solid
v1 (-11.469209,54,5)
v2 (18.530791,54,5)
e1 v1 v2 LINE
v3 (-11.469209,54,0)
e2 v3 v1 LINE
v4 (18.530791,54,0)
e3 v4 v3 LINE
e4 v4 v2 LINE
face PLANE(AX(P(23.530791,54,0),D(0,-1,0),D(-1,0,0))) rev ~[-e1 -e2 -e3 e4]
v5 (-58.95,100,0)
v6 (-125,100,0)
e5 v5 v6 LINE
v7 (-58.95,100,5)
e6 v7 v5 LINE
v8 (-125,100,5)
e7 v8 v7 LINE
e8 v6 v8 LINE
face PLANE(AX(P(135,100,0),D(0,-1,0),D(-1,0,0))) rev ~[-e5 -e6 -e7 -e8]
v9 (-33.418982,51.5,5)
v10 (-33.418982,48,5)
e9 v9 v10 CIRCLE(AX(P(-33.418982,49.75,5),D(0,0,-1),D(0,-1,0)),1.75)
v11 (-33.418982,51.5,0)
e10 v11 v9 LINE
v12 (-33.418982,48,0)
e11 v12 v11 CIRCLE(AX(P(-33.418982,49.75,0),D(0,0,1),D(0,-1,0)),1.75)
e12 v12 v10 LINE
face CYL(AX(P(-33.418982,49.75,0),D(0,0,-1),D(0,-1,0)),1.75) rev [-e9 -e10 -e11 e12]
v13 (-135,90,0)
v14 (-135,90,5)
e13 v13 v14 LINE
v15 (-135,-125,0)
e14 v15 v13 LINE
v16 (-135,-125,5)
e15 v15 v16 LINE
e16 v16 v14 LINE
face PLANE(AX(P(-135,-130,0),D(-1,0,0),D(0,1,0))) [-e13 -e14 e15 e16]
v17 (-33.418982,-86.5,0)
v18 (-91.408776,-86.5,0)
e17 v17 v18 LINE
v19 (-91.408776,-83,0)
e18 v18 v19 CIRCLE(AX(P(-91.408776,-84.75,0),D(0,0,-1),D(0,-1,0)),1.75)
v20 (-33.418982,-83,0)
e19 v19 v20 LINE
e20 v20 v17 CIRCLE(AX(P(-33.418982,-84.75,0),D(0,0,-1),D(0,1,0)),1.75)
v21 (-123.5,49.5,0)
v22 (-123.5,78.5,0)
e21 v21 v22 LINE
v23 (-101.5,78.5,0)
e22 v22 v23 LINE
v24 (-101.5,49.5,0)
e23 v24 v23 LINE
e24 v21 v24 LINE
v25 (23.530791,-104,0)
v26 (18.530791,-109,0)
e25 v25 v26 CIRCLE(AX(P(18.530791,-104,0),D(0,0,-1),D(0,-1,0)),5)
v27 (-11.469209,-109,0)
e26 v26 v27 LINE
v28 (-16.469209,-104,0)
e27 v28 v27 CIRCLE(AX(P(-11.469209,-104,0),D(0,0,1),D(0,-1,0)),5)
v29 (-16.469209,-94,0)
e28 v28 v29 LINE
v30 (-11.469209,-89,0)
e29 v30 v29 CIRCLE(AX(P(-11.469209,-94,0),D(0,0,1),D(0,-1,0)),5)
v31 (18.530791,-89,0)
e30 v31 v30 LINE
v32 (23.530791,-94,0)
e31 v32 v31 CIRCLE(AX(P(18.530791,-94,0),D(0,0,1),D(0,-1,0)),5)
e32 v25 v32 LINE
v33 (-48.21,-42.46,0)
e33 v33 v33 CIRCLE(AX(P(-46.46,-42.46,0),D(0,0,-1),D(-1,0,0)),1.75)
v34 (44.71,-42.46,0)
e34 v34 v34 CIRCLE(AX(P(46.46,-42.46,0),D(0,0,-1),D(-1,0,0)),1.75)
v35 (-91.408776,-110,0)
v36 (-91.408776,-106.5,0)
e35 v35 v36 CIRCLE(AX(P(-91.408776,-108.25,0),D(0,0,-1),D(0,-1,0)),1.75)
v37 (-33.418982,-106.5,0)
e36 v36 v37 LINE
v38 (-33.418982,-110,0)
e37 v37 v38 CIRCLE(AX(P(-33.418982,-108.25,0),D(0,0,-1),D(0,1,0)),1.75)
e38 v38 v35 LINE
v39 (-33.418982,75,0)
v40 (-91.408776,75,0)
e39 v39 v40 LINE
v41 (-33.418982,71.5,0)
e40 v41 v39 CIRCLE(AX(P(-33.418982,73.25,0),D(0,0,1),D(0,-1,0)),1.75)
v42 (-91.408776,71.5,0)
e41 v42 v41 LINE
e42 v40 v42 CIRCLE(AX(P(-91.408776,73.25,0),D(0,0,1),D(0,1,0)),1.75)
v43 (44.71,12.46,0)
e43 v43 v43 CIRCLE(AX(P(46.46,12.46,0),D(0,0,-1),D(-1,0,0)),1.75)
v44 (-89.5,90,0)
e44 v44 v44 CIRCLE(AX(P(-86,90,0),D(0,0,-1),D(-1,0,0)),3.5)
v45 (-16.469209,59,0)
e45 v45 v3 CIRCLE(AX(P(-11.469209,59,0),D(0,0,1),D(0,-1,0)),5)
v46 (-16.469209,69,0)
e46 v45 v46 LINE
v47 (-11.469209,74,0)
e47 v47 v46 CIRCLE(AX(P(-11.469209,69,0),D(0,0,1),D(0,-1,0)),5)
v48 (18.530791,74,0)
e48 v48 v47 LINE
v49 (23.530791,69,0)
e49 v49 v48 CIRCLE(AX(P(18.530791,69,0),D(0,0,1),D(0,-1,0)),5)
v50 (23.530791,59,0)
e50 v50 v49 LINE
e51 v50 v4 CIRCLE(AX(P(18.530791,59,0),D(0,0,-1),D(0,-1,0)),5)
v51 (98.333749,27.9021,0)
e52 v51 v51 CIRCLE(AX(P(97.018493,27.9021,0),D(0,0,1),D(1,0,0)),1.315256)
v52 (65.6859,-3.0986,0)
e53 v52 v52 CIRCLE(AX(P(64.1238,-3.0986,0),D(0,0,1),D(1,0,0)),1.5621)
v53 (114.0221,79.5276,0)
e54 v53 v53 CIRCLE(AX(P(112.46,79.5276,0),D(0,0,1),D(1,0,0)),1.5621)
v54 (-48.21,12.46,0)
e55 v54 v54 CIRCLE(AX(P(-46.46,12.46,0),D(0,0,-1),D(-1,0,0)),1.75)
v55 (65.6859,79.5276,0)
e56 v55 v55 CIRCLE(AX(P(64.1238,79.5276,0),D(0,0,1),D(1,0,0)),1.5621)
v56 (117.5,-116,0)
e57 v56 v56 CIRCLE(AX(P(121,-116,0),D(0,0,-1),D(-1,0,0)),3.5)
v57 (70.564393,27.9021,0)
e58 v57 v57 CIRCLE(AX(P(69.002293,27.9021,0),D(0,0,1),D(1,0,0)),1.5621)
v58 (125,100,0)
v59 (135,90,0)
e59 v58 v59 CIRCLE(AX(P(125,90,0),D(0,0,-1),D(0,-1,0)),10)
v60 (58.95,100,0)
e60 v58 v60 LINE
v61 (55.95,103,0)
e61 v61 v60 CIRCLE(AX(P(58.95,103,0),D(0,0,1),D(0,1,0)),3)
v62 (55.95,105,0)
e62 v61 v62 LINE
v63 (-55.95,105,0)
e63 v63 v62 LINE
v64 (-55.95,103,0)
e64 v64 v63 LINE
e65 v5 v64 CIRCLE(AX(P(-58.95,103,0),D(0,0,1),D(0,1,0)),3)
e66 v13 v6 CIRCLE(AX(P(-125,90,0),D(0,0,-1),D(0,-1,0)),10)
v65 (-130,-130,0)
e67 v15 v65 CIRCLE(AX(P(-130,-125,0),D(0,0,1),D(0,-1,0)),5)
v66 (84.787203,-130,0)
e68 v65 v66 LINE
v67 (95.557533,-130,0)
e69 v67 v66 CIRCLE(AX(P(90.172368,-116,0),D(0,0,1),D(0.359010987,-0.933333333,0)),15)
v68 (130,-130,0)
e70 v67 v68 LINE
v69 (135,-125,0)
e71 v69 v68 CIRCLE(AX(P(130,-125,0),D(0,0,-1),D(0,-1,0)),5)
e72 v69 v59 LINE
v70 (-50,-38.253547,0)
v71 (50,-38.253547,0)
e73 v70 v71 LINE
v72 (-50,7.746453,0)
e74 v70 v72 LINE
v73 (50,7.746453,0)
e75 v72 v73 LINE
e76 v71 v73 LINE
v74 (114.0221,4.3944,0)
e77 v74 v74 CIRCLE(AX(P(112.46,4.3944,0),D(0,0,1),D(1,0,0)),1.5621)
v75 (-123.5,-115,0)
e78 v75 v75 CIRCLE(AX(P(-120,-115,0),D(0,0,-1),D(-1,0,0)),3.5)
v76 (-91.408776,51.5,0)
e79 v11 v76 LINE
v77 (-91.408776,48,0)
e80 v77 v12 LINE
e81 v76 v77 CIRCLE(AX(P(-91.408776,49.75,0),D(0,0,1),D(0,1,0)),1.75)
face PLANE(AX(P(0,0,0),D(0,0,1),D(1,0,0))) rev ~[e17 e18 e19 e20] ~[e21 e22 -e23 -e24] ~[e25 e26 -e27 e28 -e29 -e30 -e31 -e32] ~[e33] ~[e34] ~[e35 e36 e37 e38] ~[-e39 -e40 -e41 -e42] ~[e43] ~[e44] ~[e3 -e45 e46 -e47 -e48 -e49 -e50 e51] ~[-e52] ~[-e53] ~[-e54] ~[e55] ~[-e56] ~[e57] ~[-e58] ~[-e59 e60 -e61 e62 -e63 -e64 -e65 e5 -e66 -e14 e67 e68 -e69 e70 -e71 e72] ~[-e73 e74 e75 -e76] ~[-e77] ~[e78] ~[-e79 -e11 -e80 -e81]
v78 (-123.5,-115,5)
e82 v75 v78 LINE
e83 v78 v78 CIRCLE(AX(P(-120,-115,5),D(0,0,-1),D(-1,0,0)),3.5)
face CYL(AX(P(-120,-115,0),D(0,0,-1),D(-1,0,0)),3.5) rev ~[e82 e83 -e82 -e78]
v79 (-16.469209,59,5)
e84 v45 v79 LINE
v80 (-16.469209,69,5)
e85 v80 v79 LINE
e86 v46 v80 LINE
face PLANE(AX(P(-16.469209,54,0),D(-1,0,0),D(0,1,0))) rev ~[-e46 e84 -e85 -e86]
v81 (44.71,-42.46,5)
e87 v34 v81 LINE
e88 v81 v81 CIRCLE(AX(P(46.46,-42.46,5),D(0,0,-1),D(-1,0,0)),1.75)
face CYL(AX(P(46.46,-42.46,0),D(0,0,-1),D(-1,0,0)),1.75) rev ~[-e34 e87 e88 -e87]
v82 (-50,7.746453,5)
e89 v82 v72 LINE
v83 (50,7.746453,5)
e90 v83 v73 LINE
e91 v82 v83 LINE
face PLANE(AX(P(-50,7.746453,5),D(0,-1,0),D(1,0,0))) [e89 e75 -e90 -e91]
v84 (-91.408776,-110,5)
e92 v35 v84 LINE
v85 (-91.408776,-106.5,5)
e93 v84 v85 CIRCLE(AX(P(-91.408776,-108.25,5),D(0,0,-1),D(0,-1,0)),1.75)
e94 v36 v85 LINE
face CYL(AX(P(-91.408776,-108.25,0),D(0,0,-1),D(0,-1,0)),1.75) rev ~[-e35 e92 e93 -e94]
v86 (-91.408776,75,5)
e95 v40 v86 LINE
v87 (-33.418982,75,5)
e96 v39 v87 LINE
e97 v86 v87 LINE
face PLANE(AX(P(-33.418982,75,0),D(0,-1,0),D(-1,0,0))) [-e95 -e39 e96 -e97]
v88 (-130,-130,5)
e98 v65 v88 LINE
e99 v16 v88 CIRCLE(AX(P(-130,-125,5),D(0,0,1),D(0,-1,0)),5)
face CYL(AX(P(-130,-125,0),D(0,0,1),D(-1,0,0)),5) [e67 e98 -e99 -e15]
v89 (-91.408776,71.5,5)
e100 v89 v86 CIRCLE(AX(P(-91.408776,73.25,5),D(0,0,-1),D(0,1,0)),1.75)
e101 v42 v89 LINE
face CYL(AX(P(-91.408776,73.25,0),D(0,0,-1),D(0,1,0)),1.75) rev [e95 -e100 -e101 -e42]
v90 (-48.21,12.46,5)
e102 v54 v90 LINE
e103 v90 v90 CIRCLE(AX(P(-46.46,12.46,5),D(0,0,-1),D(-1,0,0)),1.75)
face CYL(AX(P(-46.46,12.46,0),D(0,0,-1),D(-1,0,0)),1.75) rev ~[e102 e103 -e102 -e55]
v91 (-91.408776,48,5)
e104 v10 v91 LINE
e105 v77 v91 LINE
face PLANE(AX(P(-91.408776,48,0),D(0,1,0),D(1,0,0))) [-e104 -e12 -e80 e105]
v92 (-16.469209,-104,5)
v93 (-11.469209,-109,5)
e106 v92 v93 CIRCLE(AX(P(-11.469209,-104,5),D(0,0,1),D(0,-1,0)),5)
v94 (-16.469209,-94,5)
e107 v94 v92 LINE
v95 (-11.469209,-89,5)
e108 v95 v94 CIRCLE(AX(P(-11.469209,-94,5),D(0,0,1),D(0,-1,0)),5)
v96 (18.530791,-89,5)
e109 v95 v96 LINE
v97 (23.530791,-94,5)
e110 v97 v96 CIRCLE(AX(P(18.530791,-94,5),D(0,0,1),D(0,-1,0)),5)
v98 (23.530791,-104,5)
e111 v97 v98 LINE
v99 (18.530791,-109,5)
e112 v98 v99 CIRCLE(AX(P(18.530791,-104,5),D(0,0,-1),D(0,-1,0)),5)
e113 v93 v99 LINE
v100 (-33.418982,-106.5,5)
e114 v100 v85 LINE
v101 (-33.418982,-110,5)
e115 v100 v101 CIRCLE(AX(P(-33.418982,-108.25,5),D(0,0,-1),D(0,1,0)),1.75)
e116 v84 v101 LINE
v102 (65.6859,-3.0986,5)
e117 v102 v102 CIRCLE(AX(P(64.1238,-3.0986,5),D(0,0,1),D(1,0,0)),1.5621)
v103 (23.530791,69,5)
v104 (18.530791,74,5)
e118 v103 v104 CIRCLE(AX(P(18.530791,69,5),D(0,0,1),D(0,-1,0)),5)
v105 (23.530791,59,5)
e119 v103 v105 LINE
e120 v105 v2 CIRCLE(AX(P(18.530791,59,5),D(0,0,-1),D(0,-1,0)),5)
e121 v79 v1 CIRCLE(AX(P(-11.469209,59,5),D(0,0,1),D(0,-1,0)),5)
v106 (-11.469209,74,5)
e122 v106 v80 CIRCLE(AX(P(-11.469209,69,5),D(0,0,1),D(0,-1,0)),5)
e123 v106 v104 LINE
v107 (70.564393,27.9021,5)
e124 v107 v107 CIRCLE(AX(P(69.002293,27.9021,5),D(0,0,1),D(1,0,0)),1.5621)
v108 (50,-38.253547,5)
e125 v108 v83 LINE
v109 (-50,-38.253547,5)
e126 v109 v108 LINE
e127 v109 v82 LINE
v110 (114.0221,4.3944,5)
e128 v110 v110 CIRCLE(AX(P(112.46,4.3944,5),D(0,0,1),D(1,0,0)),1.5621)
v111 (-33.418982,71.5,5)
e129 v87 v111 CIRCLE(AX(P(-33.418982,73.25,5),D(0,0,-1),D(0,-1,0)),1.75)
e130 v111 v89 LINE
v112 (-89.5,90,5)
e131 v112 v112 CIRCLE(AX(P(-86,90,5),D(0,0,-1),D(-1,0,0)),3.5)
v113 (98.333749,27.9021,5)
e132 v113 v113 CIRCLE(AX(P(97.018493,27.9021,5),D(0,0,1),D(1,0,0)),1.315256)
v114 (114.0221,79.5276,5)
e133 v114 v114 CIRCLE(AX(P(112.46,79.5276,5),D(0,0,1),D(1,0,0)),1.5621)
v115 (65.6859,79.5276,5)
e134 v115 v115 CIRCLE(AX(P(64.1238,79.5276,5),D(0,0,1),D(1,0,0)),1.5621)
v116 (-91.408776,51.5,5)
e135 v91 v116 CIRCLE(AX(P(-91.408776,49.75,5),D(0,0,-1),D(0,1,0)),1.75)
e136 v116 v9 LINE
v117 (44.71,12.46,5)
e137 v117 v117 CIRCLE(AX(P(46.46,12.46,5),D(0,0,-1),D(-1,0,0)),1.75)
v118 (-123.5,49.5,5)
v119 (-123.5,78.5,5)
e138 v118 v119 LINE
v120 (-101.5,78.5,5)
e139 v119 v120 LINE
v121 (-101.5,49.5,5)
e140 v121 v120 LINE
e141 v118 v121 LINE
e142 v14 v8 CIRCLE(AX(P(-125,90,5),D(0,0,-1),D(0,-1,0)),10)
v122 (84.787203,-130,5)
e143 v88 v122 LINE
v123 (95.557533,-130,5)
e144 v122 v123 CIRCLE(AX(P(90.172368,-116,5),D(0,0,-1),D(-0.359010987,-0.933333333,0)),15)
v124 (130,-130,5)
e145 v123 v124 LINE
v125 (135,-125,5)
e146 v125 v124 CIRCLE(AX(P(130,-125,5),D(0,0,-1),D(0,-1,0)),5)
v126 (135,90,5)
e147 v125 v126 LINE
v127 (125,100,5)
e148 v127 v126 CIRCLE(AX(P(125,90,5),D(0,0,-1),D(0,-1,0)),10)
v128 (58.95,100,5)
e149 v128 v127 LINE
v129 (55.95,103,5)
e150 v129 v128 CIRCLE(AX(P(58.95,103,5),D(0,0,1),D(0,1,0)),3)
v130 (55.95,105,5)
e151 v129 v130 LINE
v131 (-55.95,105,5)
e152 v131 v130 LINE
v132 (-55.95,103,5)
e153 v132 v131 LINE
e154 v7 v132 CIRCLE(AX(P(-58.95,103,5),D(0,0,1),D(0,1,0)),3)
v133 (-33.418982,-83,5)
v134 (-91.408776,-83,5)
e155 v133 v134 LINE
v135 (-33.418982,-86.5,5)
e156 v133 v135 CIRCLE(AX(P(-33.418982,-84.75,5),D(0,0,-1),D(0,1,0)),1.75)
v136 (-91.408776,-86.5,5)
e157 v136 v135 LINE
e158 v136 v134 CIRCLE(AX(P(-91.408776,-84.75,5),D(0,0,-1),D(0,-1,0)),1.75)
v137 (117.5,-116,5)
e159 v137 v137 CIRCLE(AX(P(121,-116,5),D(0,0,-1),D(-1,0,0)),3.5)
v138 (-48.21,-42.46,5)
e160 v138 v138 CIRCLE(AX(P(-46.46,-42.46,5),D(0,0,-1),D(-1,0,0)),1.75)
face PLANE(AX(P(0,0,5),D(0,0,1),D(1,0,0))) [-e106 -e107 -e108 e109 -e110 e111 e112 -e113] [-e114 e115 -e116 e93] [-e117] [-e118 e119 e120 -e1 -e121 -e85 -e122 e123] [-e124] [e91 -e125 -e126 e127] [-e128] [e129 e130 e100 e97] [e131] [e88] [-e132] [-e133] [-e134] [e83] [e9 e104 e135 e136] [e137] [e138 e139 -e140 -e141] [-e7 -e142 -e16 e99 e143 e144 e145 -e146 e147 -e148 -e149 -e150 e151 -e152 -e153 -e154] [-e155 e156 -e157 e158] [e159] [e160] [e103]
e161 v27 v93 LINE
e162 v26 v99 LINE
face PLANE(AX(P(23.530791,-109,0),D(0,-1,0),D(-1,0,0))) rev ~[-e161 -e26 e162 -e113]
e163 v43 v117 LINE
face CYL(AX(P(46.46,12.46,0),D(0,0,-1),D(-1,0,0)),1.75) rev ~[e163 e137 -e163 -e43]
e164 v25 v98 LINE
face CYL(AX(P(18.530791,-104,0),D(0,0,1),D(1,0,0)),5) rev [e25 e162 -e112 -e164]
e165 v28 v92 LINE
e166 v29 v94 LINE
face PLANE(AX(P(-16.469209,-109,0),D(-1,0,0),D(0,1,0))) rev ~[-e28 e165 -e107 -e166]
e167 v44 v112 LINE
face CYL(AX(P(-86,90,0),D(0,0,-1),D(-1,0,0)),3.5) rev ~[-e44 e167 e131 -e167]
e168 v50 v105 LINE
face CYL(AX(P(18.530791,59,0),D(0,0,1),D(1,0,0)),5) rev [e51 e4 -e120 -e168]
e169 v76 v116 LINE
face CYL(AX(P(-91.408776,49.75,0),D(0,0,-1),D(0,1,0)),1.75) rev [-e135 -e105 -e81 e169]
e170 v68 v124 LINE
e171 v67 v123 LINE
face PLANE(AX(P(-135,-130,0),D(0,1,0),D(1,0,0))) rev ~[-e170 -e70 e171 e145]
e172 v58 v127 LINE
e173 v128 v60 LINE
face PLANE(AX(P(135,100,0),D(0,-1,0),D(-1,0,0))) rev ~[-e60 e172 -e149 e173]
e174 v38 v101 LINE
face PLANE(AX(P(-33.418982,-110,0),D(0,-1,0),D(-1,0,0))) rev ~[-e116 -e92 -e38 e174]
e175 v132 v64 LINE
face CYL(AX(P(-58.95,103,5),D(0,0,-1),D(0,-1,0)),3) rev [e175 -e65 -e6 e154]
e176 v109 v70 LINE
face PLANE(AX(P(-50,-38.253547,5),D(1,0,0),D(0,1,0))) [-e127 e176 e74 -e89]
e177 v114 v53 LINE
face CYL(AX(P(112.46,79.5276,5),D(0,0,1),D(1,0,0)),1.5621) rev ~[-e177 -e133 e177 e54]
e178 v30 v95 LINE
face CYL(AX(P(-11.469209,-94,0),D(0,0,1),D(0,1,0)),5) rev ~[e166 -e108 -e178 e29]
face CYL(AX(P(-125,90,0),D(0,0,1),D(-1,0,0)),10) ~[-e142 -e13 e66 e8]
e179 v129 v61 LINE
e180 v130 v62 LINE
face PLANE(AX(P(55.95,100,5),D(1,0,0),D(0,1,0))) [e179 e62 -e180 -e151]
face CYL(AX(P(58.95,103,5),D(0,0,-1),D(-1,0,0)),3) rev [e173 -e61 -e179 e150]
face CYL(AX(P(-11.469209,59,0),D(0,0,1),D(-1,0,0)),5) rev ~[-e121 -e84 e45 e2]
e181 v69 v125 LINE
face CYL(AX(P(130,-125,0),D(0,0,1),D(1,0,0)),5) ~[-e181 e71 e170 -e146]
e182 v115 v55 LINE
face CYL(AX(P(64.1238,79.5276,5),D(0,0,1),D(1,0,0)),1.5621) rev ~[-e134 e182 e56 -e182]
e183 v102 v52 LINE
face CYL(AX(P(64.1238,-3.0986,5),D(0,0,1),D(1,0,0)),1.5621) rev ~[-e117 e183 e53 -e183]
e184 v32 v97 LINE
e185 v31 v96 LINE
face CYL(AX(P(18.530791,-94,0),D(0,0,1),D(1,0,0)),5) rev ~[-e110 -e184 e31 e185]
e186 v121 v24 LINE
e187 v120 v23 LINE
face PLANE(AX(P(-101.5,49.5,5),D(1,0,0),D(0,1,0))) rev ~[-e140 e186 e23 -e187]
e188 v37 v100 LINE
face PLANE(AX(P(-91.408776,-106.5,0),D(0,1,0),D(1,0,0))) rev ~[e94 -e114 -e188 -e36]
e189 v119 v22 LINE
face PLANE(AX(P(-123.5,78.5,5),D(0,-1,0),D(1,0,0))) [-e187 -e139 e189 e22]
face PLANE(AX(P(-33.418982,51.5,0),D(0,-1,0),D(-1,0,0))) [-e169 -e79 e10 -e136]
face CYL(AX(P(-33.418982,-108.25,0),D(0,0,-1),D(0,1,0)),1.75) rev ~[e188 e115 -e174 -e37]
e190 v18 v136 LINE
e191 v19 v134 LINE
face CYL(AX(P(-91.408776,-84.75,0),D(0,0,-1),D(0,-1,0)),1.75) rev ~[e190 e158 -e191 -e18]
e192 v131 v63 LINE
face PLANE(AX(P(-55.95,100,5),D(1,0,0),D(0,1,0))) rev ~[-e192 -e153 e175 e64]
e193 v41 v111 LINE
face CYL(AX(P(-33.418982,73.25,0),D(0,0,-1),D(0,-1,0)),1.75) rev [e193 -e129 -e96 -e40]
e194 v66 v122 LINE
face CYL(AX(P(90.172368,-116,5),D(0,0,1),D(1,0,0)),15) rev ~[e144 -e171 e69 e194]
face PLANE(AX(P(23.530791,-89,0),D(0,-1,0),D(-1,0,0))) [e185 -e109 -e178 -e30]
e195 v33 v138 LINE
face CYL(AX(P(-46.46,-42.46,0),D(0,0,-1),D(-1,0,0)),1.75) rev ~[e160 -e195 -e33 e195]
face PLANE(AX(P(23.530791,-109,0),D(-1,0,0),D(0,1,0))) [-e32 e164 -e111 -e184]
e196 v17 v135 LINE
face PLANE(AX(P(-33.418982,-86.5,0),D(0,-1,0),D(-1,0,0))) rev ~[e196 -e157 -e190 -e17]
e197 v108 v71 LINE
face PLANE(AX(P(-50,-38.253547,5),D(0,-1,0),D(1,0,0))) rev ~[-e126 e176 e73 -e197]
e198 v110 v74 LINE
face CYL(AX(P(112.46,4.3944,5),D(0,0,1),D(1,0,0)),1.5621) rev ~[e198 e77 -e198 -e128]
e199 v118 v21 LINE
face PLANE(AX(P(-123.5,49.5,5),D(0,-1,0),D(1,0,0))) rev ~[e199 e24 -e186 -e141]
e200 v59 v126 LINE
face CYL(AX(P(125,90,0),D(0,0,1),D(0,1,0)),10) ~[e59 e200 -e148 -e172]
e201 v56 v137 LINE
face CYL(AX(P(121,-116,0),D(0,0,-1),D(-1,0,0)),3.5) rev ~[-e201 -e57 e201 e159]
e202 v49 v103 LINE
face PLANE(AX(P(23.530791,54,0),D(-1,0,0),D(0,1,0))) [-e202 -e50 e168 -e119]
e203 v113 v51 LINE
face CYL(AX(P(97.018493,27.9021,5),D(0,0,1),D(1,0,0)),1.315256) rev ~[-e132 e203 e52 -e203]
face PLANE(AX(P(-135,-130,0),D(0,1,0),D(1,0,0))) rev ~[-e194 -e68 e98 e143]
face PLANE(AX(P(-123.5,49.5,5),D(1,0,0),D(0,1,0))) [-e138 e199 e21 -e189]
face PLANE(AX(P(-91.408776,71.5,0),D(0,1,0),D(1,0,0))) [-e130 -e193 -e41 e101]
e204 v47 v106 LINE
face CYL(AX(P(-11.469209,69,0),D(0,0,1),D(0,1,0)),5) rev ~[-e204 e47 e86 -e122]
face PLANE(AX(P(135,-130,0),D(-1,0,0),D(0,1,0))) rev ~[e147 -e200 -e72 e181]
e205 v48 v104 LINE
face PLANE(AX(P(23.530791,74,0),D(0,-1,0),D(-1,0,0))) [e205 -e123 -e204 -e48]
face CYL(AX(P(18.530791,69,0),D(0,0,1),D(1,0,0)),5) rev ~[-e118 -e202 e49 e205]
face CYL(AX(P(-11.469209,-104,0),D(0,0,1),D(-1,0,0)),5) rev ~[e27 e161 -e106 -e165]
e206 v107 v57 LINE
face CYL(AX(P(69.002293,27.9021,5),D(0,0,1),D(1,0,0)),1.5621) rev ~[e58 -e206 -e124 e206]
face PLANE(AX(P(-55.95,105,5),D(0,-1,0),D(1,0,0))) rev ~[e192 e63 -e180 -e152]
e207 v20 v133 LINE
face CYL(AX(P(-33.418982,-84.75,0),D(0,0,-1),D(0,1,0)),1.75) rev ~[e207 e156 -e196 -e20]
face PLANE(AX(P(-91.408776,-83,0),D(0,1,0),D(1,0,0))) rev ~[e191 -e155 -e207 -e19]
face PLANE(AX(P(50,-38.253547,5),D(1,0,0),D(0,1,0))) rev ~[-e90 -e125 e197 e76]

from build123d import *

# Parameters (mm, degrees)
SKETCH1_W           = 270
SKETCH1_H           = 260
BOSS_EXTRUDE1_DEPTH = 5
SKETCH2_R           = 3.5
CUT_EXTRUDE1_DEPTH  = 188.483332593
SKETCH3_R           = 15
CUT_EXTRUDE2_DEPTH  = 188.483332593
FILLET1_R           = 5
CUT_EXTRUDE3_DEPTH  = 188.483332593
SKETCH6_W           = 111.9
SKETCH6_H           = 5
BOSS_EXTRUDE2_DEPTH = 5
FILLET2_R           = 10
SKETCH9_W           = 22
SKETCH9_H           = 29
CUT_EXTRUDE5_DEPTH  = 188.483332593
SKETCH10_R          = 1.75
CUT_EXTRUDE6_DEPTH  = 188.483332593
SKETCH11_W          = 100
SKETCH11_H          = 46
CUT_EXTRUDE7_DEPTH  = 188.483332593
SKETCH12_R          = 1.5621
SKETCH12_R_2        = 1.315256363
CUT_EXTRUDE8_DEPTH  = 188.483332593
SKETCH13_W          = 40
SKETCH13_H          = 20
CUT_EXTRUDE9_DEPTH  = 188.483332593
FILLET3_R           = 3
FILLET6_R           = 5
FILLET7_R           = 5


with BuildPart() as part:
    # Sketch1 → Boss-Extrude1 (new body)
    with BuildSketch(Plane.XY):
        Rectangle(SKETCH1_W, SKETCH1_H)
    extrude(amount=BOSS_EXTRUDE1_DEPTH)

    # Sketch2 → Cut-Extrude1 (cut, through all)
    with BuildSketch(Plane(origin=(0, 0, 0), x_dir=(-1, 0, 0), z_dir=(0, 0, -1))):
        with Locations((120, -115)):
            Circle(SKETCH2_R)
        with Locations((86, 90)):
            Circle(SKETCH2_R)
        with Locations((-121, -116)):
            Circle(SKETCH2_R)
    extrude(amount=-CUT_EXTRUDE1_DEPTH, mode=Mode.SUBTRACT)

    # Sketch3 → Cut-Extrude2 (cut, through all)
    with BuildSketch(Plane.XY.offset(5)):
        with Locations((90.172367877, -116)):
            Circle(SKETCH3_R)
    extrude(amount=-CUT_EXTRUDE2_DEPTH, mode=Mode.SUBTRACT)

    # Fillet1
    fillet1_edges = [part.edges().sort_by_distance(p)[0] for p in [
        (135, -130, 2.5),
        (-135, -130, 2.5),
        (-135, 130, 2.5),
        (135, 130, 2.5),
    ]]
    fillet(fillet1_edges, radius=FILLET1_R)

    # Sketch4 → Cut-Extrude3 (cut, through all)
    with BuildSketch(Plane(origin=(0, 0, 0), x_dir=(-1, 0, 0), z_dir=(0, 0, -1))):
        with BuildLine():
            Line((95.6, 100), (135, 100))
            Line((135, 100), (135, 125))
            ThreePointArc((135, 125), (133.535533906, 128.535533906), (130, 130))
            Line((130, 130), (-130, 130))
            ThreePointArc((-130, 130), (-133.535533906, 128.535533906), (-135, 125))
            Line((-135, 125), (-135, 100))
            Line((-135, 100), (90.2, 100))
            Line((90.2, 100), (95.6, 100))
        make_face()
    extrude(amount=-CUT_EXTRUDE3_DEPTH, mode=Mode.SUBTRACT)

    # Sketch6 → Boss-Extrude2 (add)
    with BuildSketch(Plane.XY.offset(5)):
        with Locations((0, 102.5)):
            Rectangle(SKETCH6_W, SKETCH6_H)
    extrude(amount=-BOSS_EXTRUDE2_DEPTH)

    # Fillet2
    fillet2_edges = [part.edges().sort_by_distance(p)[0] for p in [
        (-135, 100, 2.5),
        (135, 100, 2.5),
    ]]
    fillet(fillet2_edges, radius=FILLET2_R)

    # Sketch9 → Cut-Extrude5 (cut, through all)
    with BuildSketch(Plane.XY.offset(5)):
        with Locations((-112.5, 64)):
            Rectangle(SKETCH9_W, SKETCH9_H)
    extrude(amount=-CUT_EXTRUDE5_DEPTH, mode=Mode.SUBTRACT)

    # Sketch10 → Cut-Extrude6 (cut, through all)
    with BuildSketch(Plane(origin=(0, 0, 0), x_dir=(-1, 0, 0), z_dir=(0, 0, -1))):
        with Locations((-46.46, 12.46)):
            Circle(SKETCH10_R)
        with Locations((46.46, 12.46)):
            Circle(SKETCH10_R)
        with Locations((-46.46, -42.46)):
            Circle(SKETCH10_R)
        with Locations((46.46, -42.46)):
            Circle(SKETCH10_R)
    extrude(amount=-CUT_EXTRUDE6_DEPTH, mode=Mode.SUBTRACT)

    # Sketch11 → Cut-Extrude7 (cut, through all)
    with BuildSketch(Plane.XY.offset(5)):
        with Locations((0, -15.253546855)):
            Rectangle(SKETCH11_W, SKETCH11_H)
    extrude(amount=-CUT_EXTRUDE7_DEPTH, mode=Mode.SUBTRACT)

    # Sketch12 → Cut-Extrude8 (cut, through all)
    with BuildSketch(Plane.XY.offset(5)):
        with Locations((112.46, 4.3944)):
            Circle(SKETCH12_R)
        with Locations((64.1238, -3.0986)):
            Circle(SKETCH12_R)
        with Locations((69.002292766, 27.9021)):
            Circle(SKETCH12_R)
        with Locations((97.018492766, 27.9021)):
            Circle(SKETCH12_R_2)
        with Locations((112.46, 79.5276)):
            Circle(SKETCH12_R)
        with Locations((64.1238, 79.5276)):
            Circle(SKETCH12_R)
    extrude(amount=-CUT_EXTRUDE8_DEPTH, mode=Mode.SUBTRACT)

    # Sketch13 → Cut-Extrude9 (cut, through all)
    with BuildSketch(Plane(origin=(0, 0, 0), x_dir=(-1, 0, 0), z_dir=(0, 0, -1))):
        with BuildLine():
            Line((33.41898198, 75), (91.408776107, 75))
            ThreePointArc((91.408776107, 75), (93.158776107, 73.25), (91.408776107, 71.5))
            Line((91.408776107, 71.5), (33.41898198, 71.5))
            ThreePointArc((33.41898198, 71.5), (31.66898198, 73.25), (33.41898198, 75))
        make_face()
        with BuildLine():
            Line((33.41898198, 51.5), (91.408776107, 51.5))
            ThreePointArc((91.408776107, 51.5), (93.158776107, 49.75), (91.408776107, 48))
            Line((91.408776107, 48), (33.41898198, 48))
            ThreePointArc((33.41898198, 48), (31.66898198, 49.75), (33.41898198, 51.5))
        make_face()
        with Locations((-3.530791298, 64)):
            Rectangle(SKETCH13_W, SKETCH13_H)
        with Locations((-3.530791298, -99)):
            Rectangle(SKETCH13_W, SKETCH13_H)
        with BuildLine():
            Line((33.41898198, -86.5), (91.408776107, -86.5))
            ThreePointArc((91.408776107, -86.5), (93.158776107, -84.75), (91.408776107, -83))
            Line((91.408776107, -83), (33.41898198, -83))
            ThreePointArc((33.41898198, -83), (31.66898198, -84.75), (33.41898198, -86.5))
        make_face()
        with BuildLine():
            Line((33.41898198, -110), (91.408776107, -110))
            ThreePointArc((91.408776107, -110), (93.158776107, -108.25), (91.408776107, -106.5))
            Line((91.408776107, -106.5), (33.41898198, -106.5))
            ThreePointArc((33.41898198, -106.5), (31.66898198, -108.25), (33.41898198, -110))
        make_face()
    extrude(amount=-CUT_EXTRUDE9_DEPTH, mode=Mode.SUBTRACT)

    # Fillet3
    fillet3_edges = [part.edges().sort_by_distance(p)[0] for p in [
        (-55.95, 100, 2.5),
        (55.95, 100, 2.5),
    ]]
    fillet(fillet3_edges, radius=FILLET3_R)

    # Fillet6
    fillet6_edges = [part.edges().sort_by_distance(p)[0] for p in [
        (-16.469208702, 74, 2.5),
        (-16.469208702, 54, 2.5),
        (23.530791298, 54, 2.5),
        (23.530791298, 74, 2.5),
    ]]
    fillet(fillet6_edges, radius=FILLET6_R)

    # Fillet7
    fillet7_edges = [part.edges().sort_by_distance(p)[0] for p in [
        (23.530791298, -109, 2.5),
        (23.530791298, -89, 2.5),
        (-16.469208702, -89, 2.5),
        (-16.469208702, -109, 2.5),
    ]]
    fillet(fillet7_edges, radius=FILLET7_R)


solid = part.part
